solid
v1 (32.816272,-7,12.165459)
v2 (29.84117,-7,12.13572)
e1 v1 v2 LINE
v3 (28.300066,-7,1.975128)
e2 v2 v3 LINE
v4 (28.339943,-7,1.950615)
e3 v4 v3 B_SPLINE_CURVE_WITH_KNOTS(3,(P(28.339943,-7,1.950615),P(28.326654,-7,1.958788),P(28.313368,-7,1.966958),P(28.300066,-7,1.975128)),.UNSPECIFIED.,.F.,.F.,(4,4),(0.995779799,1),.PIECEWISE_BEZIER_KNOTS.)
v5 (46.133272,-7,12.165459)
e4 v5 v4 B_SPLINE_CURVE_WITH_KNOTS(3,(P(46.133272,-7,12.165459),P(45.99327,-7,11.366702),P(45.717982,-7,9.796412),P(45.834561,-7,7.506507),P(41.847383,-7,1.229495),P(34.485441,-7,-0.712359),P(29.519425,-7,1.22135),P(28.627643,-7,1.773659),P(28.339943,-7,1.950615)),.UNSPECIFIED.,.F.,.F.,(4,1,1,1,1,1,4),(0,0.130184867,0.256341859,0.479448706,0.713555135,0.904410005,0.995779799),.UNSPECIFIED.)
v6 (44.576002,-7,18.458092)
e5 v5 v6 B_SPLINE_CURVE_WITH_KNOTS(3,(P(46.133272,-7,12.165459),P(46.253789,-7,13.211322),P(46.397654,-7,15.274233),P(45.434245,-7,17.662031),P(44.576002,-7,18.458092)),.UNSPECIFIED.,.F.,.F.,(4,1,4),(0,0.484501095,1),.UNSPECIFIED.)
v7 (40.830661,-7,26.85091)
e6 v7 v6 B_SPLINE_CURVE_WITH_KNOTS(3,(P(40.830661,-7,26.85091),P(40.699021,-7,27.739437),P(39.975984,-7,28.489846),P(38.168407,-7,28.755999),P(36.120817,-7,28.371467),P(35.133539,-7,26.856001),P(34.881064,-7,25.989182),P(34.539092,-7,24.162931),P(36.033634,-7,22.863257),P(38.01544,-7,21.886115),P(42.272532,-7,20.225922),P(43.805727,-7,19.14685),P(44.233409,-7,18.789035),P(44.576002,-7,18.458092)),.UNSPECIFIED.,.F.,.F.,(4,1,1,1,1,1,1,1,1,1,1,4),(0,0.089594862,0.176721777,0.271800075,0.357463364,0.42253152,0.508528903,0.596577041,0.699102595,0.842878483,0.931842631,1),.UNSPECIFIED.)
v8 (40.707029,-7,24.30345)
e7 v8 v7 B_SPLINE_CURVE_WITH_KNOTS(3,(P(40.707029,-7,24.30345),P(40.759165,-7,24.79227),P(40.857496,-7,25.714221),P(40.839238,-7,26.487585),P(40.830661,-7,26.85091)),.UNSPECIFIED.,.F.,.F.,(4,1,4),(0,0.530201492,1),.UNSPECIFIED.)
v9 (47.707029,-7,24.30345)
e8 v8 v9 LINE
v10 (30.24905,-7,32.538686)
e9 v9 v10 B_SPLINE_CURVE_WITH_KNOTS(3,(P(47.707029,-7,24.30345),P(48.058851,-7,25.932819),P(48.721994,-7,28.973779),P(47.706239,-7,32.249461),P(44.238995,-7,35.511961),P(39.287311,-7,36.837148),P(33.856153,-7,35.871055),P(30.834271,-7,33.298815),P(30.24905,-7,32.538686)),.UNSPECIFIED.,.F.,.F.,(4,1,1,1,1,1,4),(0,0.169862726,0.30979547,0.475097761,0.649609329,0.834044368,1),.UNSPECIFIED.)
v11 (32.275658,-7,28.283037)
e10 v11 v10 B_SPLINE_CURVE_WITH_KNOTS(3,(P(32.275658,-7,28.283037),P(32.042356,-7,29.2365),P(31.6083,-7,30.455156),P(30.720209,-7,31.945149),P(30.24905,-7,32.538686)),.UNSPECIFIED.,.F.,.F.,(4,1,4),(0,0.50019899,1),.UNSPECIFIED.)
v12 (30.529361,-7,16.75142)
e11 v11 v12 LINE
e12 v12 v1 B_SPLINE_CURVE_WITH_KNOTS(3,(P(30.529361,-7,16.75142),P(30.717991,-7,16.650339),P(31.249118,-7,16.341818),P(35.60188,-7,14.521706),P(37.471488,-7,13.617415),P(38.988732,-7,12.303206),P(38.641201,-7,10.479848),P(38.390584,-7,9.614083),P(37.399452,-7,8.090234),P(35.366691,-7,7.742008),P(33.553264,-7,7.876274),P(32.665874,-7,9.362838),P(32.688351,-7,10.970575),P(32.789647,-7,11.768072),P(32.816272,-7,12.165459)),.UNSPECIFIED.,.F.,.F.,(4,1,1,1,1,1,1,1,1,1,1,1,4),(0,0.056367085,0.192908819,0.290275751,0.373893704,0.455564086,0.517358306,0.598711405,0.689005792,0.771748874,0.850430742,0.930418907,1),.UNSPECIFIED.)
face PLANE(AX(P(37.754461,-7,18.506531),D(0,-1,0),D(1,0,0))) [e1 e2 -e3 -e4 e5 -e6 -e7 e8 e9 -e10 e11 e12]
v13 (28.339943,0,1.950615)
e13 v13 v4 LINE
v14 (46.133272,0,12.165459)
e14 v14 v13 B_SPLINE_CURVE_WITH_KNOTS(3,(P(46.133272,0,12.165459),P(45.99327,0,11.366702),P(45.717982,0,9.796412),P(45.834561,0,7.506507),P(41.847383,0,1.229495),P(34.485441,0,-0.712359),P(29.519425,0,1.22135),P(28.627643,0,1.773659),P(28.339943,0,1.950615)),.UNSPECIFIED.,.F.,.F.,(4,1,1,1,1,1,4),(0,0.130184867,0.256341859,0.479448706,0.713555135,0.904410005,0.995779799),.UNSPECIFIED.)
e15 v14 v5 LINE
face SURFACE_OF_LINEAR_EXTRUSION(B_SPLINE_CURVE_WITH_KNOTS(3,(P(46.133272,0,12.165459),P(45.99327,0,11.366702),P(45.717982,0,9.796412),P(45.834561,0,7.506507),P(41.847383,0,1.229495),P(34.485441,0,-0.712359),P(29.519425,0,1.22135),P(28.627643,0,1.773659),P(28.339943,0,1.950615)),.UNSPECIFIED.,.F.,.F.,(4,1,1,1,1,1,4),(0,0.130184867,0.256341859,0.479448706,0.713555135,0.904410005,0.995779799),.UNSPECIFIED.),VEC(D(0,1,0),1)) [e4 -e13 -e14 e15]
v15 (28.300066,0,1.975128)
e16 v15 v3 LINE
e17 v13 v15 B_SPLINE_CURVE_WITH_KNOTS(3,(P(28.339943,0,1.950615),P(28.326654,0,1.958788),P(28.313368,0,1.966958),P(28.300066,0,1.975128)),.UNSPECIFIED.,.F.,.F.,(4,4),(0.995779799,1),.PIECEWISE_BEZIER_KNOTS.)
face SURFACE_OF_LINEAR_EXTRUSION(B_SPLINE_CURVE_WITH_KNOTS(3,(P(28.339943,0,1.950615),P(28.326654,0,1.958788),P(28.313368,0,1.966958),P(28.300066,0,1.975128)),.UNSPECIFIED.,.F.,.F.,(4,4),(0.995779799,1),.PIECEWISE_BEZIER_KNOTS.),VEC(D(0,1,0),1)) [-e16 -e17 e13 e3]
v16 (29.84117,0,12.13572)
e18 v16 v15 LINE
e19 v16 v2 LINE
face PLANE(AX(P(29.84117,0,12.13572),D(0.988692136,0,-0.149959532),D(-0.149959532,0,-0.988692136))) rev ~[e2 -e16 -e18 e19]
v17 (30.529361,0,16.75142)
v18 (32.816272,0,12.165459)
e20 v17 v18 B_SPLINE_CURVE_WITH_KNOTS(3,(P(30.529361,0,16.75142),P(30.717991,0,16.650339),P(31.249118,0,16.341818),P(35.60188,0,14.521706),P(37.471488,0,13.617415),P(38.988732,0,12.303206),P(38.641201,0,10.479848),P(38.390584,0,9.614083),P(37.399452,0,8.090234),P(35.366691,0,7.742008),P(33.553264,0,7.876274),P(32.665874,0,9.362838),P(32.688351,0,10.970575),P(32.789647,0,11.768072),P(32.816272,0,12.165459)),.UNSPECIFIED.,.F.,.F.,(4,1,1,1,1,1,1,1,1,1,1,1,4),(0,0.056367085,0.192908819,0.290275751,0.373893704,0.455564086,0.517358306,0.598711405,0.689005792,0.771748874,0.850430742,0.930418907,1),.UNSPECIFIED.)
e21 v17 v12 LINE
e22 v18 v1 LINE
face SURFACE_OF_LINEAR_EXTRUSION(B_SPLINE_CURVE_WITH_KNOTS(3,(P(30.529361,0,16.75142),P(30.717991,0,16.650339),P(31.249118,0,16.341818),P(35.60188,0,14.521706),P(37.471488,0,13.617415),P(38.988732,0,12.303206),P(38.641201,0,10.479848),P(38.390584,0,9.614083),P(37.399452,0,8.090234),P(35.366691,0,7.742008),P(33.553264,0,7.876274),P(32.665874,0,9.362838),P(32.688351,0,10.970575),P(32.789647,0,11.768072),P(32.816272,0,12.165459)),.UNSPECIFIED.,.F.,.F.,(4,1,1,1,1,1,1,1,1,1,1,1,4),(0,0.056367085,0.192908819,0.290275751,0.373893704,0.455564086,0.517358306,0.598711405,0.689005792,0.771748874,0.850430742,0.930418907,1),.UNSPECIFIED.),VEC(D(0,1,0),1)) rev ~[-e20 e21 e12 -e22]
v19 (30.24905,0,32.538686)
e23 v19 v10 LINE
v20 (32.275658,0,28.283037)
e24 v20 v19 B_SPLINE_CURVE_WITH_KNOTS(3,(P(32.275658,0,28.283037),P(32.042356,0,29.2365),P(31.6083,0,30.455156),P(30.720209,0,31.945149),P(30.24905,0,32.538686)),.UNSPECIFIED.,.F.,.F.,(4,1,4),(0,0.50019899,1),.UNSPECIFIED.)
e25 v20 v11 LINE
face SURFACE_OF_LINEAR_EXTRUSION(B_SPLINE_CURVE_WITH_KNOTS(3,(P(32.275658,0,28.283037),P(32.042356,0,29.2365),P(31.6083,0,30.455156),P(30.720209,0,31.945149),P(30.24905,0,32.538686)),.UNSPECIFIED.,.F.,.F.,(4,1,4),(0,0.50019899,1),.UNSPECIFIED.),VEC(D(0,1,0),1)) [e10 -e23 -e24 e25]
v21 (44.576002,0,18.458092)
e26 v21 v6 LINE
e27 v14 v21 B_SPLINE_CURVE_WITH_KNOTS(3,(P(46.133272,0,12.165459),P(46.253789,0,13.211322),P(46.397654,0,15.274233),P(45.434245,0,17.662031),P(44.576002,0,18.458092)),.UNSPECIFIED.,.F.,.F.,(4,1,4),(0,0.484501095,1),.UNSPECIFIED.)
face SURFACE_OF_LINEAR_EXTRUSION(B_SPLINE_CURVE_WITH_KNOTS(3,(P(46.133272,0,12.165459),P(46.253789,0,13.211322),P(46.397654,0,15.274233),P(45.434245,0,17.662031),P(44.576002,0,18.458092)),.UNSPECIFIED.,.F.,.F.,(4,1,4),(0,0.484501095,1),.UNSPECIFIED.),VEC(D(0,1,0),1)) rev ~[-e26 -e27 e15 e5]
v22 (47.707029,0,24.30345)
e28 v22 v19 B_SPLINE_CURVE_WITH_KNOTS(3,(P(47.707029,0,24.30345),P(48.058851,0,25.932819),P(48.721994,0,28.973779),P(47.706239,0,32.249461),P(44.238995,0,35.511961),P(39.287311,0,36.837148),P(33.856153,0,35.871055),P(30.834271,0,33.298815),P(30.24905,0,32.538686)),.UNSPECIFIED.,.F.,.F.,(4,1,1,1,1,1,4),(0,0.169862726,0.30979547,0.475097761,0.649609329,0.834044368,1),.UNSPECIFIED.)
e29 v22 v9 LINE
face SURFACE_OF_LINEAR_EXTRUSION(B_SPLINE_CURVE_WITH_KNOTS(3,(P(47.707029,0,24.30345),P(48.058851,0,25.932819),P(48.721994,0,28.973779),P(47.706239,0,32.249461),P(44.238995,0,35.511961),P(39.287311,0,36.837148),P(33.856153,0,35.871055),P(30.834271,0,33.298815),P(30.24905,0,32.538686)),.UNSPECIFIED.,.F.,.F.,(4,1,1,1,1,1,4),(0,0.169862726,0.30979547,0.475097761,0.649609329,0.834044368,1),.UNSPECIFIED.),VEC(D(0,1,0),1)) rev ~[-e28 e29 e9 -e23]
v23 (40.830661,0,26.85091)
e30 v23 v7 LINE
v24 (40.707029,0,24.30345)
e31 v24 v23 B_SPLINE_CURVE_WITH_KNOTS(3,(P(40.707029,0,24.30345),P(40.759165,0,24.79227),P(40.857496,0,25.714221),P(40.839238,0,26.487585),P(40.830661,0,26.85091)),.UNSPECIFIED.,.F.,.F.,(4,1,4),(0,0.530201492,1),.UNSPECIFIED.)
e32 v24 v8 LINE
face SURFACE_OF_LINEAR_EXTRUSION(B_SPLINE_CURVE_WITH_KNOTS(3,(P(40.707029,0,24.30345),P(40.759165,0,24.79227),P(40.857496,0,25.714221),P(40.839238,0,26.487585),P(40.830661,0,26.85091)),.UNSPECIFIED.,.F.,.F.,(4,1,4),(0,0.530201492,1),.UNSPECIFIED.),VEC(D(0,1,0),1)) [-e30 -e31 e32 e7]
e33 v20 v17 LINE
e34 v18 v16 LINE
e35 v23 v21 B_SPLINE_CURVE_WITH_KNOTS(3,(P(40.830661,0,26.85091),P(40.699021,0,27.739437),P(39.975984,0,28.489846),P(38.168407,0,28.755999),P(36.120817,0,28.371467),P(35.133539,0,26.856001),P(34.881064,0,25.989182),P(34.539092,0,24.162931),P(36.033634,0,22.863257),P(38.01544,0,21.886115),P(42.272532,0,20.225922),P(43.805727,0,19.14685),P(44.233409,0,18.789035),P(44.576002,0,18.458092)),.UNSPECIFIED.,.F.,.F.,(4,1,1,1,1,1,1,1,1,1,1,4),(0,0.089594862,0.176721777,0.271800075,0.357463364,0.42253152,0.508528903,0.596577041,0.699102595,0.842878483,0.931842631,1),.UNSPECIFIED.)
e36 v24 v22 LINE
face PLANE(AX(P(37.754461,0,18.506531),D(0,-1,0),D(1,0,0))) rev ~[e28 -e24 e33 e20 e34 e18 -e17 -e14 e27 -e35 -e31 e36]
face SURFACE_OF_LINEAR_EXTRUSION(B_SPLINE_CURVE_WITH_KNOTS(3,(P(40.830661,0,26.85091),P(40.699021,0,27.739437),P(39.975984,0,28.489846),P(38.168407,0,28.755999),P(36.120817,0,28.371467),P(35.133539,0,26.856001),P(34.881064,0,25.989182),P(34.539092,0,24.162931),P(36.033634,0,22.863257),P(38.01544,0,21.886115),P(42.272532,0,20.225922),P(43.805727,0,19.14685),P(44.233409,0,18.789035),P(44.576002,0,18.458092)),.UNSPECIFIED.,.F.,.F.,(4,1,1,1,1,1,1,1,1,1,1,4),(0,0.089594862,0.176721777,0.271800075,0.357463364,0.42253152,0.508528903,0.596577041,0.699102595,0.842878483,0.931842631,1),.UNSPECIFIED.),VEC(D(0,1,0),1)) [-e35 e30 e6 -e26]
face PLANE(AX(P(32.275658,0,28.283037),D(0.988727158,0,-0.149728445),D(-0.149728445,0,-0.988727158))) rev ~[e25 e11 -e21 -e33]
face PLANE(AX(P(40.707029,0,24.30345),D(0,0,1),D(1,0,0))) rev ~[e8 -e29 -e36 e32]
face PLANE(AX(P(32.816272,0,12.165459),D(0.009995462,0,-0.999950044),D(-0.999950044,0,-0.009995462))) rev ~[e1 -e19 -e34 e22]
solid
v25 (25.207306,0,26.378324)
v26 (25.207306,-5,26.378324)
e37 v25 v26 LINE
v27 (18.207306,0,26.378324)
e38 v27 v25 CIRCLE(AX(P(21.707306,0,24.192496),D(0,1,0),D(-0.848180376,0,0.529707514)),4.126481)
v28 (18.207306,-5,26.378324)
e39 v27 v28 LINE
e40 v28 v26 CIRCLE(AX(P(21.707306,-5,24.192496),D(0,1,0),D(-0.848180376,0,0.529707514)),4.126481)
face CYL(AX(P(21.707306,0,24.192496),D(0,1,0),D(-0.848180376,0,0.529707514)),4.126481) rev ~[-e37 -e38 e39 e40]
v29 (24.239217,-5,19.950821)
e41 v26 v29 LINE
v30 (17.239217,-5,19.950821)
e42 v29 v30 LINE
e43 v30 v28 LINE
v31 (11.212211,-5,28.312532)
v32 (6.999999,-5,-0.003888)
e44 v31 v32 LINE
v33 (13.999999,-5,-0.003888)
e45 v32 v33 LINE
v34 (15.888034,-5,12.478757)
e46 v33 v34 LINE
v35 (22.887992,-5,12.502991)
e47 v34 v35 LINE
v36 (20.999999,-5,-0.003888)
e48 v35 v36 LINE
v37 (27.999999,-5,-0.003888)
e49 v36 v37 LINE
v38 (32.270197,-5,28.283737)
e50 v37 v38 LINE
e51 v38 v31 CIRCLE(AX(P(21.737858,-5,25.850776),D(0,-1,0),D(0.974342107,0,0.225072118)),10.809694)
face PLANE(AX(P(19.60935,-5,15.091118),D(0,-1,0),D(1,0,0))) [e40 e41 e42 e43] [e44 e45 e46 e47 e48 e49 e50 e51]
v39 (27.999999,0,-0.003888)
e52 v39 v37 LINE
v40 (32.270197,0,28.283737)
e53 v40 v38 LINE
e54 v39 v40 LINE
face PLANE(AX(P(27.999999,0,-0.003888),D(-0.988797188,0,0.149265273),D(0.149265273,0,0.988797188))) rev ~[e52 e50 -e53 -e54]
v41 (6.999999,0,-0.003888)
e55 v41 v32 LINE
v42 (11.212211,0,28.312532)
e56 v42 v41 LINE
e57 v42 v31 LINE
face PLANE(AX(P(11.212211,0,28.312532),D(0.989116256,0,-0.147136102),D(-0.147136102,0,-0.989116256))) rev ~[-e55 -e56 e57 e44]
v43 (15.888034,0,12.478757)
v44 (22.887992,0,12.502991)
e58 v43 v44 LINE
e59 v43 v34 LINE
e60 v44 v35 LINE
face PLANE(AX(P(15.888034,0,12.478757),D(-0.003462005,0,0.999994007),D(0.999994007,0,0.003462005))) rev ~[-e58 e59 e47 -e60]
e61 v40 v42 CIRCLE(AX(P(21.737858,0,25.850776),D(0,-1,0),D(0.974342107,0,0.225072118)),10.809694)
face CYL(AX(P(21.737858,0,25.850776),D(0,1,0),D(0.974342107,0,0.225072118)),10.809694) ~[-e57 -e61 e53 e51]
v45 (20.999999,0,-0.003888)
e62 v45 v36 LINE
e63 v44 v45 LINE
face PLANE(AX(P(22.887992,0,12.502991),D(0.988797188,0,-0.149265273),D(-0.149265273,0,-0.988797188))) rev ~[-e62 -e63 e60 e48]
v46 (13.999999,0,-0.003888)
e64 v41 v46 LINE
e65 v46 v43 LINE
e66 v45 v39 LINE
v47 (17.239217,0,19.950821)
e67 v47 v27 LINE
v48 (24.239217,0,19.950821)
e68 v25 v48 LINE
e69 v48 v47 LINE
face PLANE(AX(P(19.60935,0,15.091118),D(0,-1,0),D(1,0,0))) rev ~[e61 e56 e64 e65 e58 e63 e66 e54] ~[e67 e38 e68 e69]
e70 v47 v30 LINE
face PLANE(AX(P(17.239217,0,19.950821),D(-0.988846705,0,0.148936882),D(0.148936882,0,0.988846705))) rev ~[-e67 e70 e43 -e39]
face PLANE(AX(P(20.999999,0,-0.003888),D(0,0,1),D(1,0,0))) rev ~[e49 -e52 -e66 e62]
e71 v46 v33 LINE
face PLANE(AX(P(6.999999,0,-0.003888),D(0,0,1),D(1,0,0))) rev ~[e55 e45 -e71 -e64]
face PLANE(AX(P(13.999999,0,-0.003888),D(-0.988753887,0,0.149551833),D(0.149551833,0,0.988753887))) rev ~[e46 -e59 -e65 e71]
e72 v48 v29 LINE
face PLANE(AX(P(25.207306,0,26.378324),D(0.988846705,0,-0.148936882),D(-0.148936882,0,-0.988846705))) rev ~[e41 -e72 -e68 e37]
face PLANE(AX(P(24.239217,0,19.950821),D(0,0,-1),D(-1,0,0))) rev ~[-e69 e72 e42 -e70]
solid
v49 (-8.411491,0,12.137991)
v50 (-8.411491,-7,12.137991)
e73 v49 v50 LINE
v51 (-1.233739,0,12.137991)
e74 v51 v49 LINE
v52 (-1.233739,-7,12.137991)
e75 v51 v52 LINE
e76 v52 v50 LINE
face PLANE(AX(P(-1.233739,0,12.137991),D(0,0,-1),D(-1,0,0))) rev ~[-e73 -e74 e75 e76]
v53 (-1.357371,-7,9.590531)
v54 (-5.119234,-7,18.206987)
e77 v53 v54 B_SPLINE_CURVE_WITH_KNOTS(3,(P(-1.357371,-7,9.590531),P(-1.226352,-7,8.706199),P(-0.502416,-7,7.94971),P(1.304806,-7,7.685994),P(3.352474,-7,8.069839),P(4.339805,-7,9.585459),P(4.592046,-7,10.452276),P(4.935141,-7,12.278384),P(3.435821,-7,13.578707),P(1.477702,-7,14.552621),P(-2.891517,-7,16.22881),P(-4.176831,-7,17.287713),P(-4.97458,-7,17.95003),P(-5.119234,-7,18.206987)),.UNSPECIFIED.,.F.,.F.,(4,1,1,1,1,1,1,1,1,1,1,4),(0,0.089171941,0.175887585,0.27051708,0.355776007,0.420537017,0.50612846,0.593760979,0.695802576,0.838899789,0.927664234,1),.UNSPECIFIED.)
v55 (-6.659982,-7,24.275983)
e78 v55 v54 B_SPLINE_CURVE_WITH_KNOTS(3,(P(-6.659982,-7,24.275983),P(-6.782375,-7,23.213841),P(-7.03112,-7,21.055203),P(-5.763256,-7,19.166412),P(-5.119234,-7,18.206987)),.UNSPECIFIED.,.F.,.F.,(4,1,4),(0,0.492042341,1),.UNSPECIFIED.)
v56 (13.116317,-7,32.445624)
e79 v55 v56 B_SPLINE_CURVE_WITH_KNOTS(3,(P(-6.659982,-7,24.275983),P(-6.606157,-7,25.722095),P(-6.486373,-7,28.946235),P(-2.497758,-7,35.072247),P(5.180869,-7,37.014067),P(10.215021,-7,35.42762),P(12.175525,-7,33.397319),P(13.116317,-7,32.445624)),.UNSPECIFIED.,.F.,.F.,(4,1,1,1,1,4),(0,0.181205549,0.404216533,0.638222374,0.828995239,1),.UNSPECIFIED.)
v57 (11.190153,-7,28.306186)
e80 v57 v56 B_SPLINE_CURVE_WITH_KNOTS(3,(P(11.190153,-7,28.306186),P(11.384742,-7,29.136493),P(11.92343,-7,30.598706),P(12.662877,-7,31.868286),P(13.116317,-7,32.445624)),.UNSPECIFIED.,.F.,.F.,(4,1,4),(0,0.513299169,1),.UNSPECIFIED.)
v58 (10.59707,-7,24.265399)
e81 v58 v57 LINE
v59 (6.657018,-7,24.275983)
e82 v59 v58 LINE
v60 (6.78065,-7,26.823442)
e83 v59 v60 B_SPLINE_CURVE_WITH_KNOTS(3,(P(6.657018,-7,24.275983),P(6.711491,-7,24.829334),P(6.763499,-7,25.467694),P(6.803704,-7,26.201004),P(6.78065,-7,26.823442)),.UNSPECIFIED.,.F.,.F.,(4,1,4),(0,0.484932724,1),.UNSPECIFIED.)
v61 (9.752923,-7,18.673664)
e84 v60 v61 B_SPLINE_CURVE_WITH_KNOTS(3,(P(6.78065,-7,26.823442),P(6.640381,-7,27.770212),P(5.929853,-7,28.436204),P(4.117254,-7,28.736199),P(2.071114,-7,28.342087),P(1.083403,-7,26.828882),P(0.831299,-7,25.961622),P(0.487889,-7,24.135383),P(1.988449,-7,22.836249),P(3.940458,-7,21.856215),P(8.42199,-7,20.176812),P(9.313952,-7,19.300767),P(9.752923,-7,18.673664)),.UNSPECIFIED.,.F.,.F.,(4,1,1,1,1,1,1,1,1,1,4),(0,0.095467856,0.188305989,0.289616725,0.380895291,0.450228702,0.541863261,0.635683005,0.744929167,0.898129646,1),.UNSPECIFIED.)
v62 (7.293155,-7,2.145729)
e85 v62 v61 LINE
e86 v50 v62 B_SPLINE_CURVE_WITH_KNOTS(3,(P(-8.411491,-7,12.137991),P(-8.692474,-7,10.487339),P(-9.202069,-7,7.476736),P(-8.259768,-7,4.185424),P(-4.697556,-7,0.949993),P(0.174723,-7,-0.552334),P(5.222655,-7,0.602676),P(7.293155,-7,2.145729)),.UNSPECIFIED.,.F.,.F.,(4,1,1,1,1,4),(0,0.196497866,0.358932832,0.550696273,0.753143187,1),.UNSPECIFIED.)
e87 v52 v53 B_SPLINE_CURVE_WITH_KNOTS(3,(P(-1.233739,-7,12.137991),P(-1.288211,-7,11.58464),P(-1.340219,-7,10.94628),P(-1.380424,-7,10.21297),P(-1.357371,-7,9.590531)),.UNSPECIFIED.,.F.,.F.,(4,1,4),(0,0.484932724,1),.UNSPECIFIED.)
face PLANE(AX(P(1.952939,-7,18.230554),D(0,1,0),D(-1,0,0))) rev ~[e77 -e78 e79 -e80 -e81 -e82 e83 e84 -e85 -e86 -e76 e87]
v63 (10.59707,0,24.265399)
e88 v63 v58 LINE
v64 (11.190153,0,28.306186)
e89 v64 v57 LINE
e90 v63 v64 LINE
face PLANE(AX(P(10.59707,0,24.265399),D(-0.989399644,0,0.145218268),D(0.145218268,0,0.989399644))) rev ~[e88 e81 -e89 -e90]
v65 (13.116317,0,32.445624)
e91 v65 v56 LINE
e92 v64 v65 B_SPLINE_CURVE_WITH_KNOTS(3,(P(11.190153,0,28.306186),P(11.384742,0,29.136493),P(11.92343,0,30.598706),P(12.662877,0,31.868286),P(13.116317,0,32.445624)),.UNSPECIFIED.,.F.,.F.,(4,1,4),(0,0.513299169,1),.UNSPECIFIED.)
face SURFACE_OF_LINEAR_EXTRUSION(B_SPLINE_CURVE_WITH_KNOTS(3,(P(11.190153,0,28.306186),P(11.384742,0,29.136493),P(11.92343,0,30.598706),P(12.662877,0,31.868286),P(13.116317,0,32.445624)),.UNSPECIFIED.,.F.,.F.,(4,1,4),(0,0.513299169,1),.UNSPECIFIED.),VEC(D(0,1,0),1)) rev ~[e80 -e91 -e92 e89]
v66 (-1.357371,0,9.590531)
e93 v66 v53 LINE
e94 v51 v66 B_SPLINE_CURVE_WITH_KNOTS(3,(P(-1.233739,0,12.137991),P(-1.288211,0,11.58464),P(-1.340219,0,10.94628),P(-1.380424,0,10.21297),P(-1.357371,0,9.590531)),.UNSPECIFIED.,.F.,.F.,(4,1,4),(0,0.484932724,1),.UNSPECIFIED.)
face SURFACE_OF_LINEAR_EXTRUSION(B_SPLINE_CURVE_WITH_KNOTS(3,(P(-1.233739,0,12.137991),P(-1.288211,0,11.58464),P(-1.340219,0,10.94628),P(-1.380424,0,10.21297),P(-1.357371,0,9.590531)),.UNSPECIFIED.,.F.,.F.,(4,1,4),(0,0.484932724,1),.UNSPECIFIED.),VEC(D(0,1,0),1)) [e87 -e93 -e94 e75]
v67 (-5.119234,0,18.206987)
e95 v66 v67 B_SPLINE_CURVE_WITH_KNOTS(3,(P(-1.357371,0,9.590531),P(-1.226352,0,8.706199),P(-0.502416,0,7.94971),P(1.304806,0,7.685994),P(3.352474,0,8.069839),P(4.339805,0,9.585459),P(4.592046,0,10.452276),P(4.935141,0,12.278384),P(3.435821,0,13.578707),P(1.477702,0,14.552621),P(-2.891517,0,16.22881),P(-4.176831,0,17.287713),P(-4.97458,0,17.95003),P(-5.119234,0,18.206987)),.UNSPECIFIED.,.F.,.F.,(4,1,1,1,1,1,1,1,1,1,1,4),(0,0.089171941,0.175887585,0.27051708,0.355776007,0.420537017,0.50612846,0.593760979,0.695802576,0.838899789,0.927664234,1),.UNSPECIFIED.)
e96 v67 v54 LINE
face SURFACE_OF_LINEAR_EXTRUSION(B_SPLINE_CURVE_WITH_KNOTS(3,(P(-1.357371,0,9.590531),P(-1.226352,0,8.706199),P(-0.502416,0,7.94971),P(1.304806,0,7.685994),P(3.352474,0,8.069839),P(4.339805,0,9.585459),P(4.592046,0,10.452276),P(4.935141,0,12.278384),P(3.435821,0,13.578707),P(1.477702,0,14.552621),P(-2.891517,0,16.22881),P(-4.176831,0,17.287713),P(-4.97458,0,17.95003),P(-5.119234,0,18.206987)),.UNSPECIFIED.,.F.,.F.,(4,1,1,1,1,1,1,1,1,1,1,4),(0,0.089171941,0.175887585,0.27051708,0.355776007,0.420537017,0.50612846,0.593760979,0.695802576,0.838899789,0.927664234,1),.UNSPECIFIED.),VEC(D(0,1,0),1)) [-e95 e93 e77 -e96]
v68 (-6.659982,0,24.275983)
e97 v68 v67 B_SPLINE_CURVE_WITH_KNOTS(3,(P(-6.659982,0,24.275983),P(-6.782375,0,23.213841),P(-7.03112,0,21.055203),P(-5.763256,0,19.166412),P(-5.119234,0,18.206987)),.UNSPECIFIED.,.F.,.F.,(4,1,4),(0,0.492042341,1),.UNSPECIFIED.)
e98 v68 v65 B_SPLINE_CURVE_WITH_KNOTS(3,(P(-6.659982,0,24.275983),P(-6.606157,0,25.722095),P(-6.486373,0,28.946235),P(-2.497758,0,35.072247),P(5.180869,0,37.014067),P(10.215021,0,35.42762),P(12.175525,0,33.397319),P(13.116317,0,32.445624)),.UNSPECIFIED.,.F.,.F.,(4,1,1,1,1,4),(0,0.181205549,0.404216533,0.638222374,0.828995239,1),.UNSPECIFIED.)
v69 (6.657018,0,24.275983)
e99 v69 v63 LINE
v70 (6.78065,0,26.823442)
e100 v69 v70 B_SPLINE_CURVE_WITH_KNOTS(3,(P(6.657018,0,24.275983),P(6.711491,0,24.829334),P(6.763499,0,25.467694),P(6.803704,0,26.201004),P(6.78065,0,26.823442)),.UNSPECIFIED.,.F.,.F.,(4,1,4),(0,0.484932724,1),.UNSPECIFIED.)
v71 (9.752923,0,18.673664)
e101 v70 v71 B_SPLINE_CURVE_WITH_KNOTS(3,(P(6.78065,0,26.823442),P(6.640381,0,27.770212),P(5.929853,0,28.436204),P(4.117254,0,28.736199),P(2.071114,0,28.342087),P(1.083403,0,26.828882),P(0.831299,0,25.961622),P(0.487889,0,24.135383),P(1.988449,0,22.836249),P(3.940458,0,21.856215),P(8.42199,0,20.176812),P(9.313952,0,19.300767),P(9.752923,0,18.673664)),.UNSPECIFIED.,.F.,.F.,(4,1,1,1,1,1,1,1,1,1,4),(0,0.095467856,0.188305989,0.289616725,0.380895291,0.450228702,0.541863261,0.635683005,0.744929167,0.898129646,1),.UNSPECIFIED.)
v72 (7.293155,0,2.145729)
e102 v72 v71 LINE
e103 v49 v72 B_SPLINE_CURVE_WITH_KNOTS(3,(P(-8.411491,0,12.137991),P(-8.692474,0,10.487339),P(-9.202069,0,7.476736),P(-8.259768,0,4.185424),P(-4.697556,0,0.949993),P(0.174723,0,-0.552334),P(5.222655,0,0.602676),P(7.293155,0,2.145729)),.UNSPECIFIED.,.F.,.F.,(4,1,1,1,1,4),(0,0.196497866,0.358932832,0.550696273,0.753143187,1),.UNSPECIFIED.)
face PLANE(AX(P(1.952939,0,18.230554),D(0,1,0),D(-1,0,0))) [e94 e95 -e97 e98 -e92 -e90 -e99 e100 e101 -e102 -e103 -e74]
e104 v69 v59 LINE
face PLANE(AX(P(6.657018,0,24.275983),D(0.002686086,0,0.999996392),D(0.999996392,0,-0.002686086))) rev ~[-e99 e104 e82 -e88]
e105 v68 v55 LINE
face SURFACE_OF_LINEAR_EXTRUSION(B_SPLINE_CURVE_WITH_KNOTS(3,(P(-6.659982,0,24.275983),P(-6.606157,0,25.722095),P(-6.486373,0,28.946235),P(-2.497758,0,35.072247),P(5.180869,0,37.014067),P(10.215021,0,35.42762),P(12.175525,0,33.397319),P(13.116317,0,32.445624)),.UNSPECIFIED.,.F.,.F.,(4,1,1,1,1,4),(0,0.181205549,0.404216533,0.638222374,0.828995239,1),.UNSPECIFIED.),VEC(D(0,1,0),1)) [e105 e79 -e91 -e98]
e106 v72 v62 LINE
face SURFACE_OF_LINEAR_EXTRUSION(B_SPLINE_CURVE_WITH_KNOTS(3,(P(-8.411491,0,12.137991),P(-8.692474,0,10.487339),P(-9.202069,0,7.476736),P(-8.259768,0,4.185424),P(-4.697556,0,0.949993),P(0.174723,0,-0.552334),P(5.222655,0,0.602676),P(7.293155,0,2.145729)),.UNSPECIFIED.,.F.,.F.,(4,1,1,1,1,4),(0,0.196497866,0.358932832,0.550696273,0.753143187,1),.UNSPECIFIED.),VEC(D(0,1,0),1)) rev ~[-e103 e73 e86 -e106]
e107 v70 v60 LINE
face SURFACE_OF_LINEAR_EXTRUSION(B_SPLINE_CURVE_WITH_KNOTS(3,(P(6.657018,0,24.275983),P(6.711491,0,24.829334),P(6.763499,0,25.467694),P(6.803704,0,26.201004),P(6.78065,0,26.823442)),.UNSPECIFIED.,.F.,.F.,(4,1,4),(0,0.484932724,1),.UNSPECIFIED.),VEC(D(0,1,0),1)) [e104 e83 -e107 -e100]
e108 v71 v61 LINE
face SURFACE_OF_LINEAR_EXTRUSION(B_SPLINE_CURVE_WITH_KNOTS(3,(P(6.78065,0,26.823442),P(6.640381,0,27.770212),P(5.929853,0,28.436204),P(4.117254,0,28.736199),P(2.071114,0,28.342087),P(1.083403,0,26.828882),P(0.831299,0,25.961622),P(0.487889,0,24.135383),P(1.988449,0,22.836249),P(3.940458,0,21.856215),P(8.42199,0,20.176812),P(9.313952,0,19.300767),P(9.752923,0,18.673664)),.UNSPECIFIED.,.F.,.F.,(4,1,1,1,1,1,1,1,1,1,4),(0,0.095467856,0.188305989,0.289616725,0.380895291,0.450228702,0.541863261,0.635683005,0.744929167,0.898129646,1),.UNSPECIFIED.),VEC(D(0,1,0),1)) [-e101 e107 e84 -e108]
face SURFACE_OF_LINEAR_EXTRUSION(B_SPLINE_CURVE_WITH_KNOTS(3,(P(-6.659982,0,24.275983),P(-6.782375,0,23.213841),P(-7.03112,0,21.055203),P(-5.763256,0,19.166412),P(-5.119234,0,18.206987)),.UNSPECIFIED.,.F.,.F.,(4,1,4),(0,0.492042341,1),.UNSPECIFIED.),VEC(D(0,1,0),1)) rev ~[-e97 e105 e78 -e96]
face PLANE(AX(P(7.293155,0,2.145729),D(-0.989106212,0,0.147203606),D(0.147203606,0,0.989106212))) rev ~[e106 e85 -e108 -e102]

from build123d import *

# Parameters (mm, degrees)
F3_DEPTH = 5
F4_DEPTH = 7
F5_DEPTH = 7


with BuildPart() as f3:
    # F0 (on Front) → F3 (new body)
    with BuildSketch(Plane.XZ):
        with BuildLine():
            Line((11.2122112379, 28.3125324846), (6.9999989204, -0.003887688))
            Line((6.9999989204, -0.003887688), (13.9999989204, -0.003887688))
            Line((13.9999989204, -0.003887688), (15.8880344042, 12.4787572106))
            Line((15.8880344042, 12.4787572106), (22.8879924549, 12.5029912455))
            Line((22.8879924549, 12.5029912455), (20.9999989204, -0.003887688))
            Line((20.9999989204, -0.003887688), (27.9999989204, -0.003887688))
            Line((27.9999989204, -0.003887688), (32.2701971666, 28.2837369844))
            ThreePointArc((32.2701971666, 28.2837369844), (21.7526391673, 36.6604597903), (11.2122112379, 28.3125324846))
        make_face()
        with BuildLine():
            Line((24.2392167098, 19.9508205977), (17.2392167098, 19.9508205977))
            Line((17.2392167098, 19.9508205977), (18.2073064438, 26.3783241774))
            ThreePointArc((18.2073064438, 26.3783241774), (21.7073064438, 28.3189770721), (25.2073064438, 26.3783241774))
            Line((25.2073064438, 26.3783241774), (24.2392167098, 19.9508205977))
        make_face(mode=Mode.SUBTRACT)
    extrude(amount=F3_DEPTH)


with BuildPart() as f4:
    # F1 (on Front) → F4 (new body)
    with BuildSketch(Plane.XZ):
        with BuildLine():
            add(Edge.make_bspline(
                [(-6.6599815696, 24.2759825592), (-6.6061565064, 25.7220949595), (-6.4863727312, 28.9462347722), (-2.4977578924, 35.0722468726), (5.1808687263, 37.0140672644), (10.2150214978, 35.4276204541), (12.1755249809, 33.3973188604), (13.1163168699, 32.4456244707)],
                knots=[0, 0, 0, 0, 0.1812055492, 0.4042165334, 0.638222374, 0.8289952391, 1, 1, 1, 1], degree=3))
            add(Edge.make_bspline(
                [(-6.6599815696, 24.2759825592), (-6.782374854, 23.213841063), (-7.0311202854, 21.0552026541), (-5.7632557996, 19.1664123967), (-5.1192343235, 18.2069869194)],
                knots=[0, 0, 0, 0, 0.492042341, 1, 1, 1, 1], degree=3))
            add(Edge.make_bspline(
                [(-1.3573709875, 9.5905314094), (-1.2263524235, 8.7061990832), (-0.5024158287, 7.9497102787), (1.3048064984, 7.6859942695), (3.3524740944, 8.069839421), (4.3398051965, 9.5854586005), (4.5920459217, 10.4522758633), (4.9351412842, 12.2783841142), (3.4358207169, 13.5787067299), (1.4777022446, 14.5526211568), (-2.8915169094, 16.2288104057), (-4.1768306804, 17.2877126924), (-4.9745802013, 17.9500296757), (-5.1192343235, 18.2069869194)],
                knots=[0, 0, 0, 0, 0.0891719414, 0.1758875853, 0.2705170797, 0.3557760067, 0.4205370175, 0.5061284604, 0.5937609792, 0.6958025757, 0.8388997888, 0.9276642336, 1, 1, 1, 1], degree=3))
            add(Edge.make_bspline(
                [(-1.2337389512, 12.1379912796), (-1.2882114388, 11.5846401907), (-1.3402192541, 10.9462795863), (-1.3804244809, 10.2129696763), (-1.3573709875, 9.5905314094)],
                knots=[0, 0, 0, 0, 0.4849327242, 1, 1, 1, 1], degree=3))
            Line((-1.2337389512, 12.1379912796), (-8.4114907848, 12.1379912796))
            add(Edge.make_bspline(
                [(-8.4114907848, 12.1379912796), (-8.6924735771, 10.4873391148), (-9.2020693869, 7.4767358258), (-8.2597683385, 4.1854235086), (-4.6975559252, 0.9499932484), (0.174722876, -0.5523340249), (5.2226553008, 0.602676311), (7.2931549512, 2.1457294933)],
                knots=[0, 0, 0, 0, 0.1964978655, 0.3589328321, 0.5506962732, 0.7531431874, 1, 1, 1, 1], degree=3))
            Line((7.2931549512, 2.1457294933), (9.7529226914, 18.6736639589))
            add(Edge.make_bspline(
                [(6.7806504667, 26.8234424293), (6.6403814403, 27.7702123414), (5.9298529184, 28.4362038703), (4.1172538238, 28.7361985341), (2.0711144864, 28.3420870979), (1.0834026676, 26.8288823566), (0.8312986309, 25.9616215338), (0.4878892522, 24.1353828571), (1.9884493947, 22.8362485566), (3.9404576221, 21.8562153523), (8.4219899848, 20.1768119309), (9.3139520404, 19.3007670418), (9.7529226914, 18.6736639589)],
                knots=[0, 0, 0, 0, 0.095467856, 0.1883059894, 0.2896167246, 0.3808952908, 0.4502287016, 0.5418632609, 0.6356830045, 0.7449291674, 0.8981296462, 1, 1, 1, 1], degree=3))
            add(Edge.make_bspline(
                [(6.6570184304, 24.2759825592), (6.711490918, 24.8293336481), (6.7634987332, 25.4676942525), (6.80370396, 26.2010041624), (6.7806504667, 26.8234424293)],
                knots=[0, 0, 0, 0, 0.4849327242, 1, 1, 1, 1], degree=3))
            Line((6.6570184304, 24.2759825592), (10.5970697477, 24.2653992027))
            Line((10.5970697477, 24.2653992027), (11.1901527271, 28.3061861992))
            add(Edge.make_bspline(
                [(11.1901527271, 28.3061861992), (11.3847417426, 29.1364929683), (11.9234300988, 30.5987060232), (12.6628768915, 31.8682861898), (13.1163168699, 32.4456244707)],
                knots=[0, 0, 0, 0, 0.513299169, 1, 1, 1, 1], degree=3))
        make_face()
    extrude(amount=F4_DEPTH)


with BuildPart() as f5:
    # F2 (on Front) → F5 (new body)
    with BuildSketch(Plane.XZ):
        with BuildLine():
            Line((40.7070289281, 24.3034501637), (47.7070289281, 24.3034501637))
            add(Edge.make_bspline(
                [(47.7070289281, 24.3034501637), (48.0588512775, 25.9328191081), (48.7219935663, 28.9737790764), (47.7062392193, 32.2494612662), (44.2389948753, 35.5119613146), (39.2873114419, 36.8371475878), (33.8561527415, 35.8710554484), (30.8342708515, 33.2988147102), (30.2490498871, 32.5386859477)],
                knots=[0, 0, 0, 0, 0.1698627261, 0.3097954704, 0.4750977612, 0.6496093288, 0.8340443676, 1, 1, 1, 1], degree=3))
            add(Edge.make_bspline(
                [(32.2756581008, 28.2830372453), (32.0423555546, 29.236499996), (31.6083000986, 30.4551560803), (30.7202089166, 31.9451489298), (30.2490498871, 32.5386859477)],
                knots=[0, 0, 0, 0, 0.50019899, 1, 1, 1, 1], degree=3))
            Line((32.2756581008, 28.2830372453), (30.5293612182, 16.7514197528))
            add(Edge.make_bspline(
                [(30.5293612182, 16.7514197528), (30.7179905571, 16.6503390755), (31.2491175786, 16.3418175238), (35.6018795043, 14.5217056209), (37.4714878588, 13.6174146267), (38.9887318436, 12.3032058475), (38.6412005965, 10.4798483482), (38.3905840845, 9.614082998), (37.3994517702, 8.0902336596), (35.3666908063, 7.7420076867), (33.5532638013, 7.8762737947), (32.6658742269, 9.3628376072), (32.6883507297, 10.9705748359), (32.7896469957, 11.7680724832), (32.8162715465, 12.1654588842)],
                knots=[0, 0, 0, 0, 0.0563670855, 0.1929088194, 0.2902757507, 0.3738937038, 0.4555640856, 0.5173583058, 0.5987114046, 0.6890057923, 0.7717488738, 0.8504307425, 0.9304189068, 1, 1, 1, 1], degree=3))
            Line((32.8162715465, 12.1654588842), (29.8411697149, 12.1357198805))
            Line((29.8411697149, 12.1357198805), (28.3000655472, 1.9751281943))
            add(Edge.make_bspline(
                [(28.3399428197, 1.9506151357), (28.3266544762, 1.9587884304), (28.3133682934, 1.9669577735), (28.3000655472, 1.9751281943)],
                knots=[0.9957797989, 0.9957797989, 0.9957797989, 0.9957797989, 1, 1, 1, 1], degree=3))
            add(Edge.make_bspline(
                [(46.1332715465, 12.1654588842), (45.9932699339, 11.3667022607), (45.7179821557, 9.7964122521), (45.8345614588, 7.5065066252), (41.8473829749, 1.2294949823), (34.4854407651, -0.7123590527), (29.5194253321, 1.2213504858), (28.6276431409, 1.7736585781), (28.3399428197, 1.9506151357)],
                knots=[0, 0, 0, 0, 0.1301848674, 0.2563418588, 0.4794487055, 0.713555135, 0.9044100049, 0.9957797989, 0.9957797989, 0.9957797989, 0.9957797989], degree=3))
            add(Edge.make_bspline(
                [(46.1332715465, 12.1654588842), (46.2537889802, 13.2113215559), (46.3976538225, 15.2742330204), (45.434245385, 17.6620311683), (44.5760017066, 18.4580917618)],
                knots=[0, 0, 0, 0, 0.4845010945, 1, 1, 1, 1], degree=3))
            add(Edge.make_bspline(
                [(40.8306609644, 26.8509100339), (40.6990210117, 27.7394365297), (39.9759836544, 28.4898464564), (38.1684066427, 28.7559986815), (36.1208167951, 28.3714668164), (35.1335391231, 26.8560005895), (34.881063841, 25.9891820202), (34.5390921594, 24.1629312021), (36.0336343485, 22.8632566597), (38.0154398125, 21.8861146009), (42.27253222, 20.2259216093), (43.8057266716, 19.1468495988), (44.2334094452, 18.7890354728), (44.5760017066, 18.4580917618)],
                knots=[0, 0, 0, 0, 0.0895948619, 0.1767217766, 0.2718000754, 0.3574633643, 0.4225315205, 0.5085289026, 0.5965770407, 0.6991025953, 0.8428784831, 0.9318426312, 1, 1, 1, 1], degree=3))
            add(Edge.make_bspline(
                [(40.7070289281, 24.3034501637), (40.7591645885, 24.7922701366), (40.8574963761, 25.7142214714), (40.8392384914, 26.4875850011), (40.8306609644, 26.8509100339)],
                knots=[0, 0, 0, 0, 0.5302014916, 1, 1, 1, 1], degree=3))
        make_face()
    extrude(amount=F5_DEPTH)


solid = Compound([f3.part, f4.part, f5.part])
